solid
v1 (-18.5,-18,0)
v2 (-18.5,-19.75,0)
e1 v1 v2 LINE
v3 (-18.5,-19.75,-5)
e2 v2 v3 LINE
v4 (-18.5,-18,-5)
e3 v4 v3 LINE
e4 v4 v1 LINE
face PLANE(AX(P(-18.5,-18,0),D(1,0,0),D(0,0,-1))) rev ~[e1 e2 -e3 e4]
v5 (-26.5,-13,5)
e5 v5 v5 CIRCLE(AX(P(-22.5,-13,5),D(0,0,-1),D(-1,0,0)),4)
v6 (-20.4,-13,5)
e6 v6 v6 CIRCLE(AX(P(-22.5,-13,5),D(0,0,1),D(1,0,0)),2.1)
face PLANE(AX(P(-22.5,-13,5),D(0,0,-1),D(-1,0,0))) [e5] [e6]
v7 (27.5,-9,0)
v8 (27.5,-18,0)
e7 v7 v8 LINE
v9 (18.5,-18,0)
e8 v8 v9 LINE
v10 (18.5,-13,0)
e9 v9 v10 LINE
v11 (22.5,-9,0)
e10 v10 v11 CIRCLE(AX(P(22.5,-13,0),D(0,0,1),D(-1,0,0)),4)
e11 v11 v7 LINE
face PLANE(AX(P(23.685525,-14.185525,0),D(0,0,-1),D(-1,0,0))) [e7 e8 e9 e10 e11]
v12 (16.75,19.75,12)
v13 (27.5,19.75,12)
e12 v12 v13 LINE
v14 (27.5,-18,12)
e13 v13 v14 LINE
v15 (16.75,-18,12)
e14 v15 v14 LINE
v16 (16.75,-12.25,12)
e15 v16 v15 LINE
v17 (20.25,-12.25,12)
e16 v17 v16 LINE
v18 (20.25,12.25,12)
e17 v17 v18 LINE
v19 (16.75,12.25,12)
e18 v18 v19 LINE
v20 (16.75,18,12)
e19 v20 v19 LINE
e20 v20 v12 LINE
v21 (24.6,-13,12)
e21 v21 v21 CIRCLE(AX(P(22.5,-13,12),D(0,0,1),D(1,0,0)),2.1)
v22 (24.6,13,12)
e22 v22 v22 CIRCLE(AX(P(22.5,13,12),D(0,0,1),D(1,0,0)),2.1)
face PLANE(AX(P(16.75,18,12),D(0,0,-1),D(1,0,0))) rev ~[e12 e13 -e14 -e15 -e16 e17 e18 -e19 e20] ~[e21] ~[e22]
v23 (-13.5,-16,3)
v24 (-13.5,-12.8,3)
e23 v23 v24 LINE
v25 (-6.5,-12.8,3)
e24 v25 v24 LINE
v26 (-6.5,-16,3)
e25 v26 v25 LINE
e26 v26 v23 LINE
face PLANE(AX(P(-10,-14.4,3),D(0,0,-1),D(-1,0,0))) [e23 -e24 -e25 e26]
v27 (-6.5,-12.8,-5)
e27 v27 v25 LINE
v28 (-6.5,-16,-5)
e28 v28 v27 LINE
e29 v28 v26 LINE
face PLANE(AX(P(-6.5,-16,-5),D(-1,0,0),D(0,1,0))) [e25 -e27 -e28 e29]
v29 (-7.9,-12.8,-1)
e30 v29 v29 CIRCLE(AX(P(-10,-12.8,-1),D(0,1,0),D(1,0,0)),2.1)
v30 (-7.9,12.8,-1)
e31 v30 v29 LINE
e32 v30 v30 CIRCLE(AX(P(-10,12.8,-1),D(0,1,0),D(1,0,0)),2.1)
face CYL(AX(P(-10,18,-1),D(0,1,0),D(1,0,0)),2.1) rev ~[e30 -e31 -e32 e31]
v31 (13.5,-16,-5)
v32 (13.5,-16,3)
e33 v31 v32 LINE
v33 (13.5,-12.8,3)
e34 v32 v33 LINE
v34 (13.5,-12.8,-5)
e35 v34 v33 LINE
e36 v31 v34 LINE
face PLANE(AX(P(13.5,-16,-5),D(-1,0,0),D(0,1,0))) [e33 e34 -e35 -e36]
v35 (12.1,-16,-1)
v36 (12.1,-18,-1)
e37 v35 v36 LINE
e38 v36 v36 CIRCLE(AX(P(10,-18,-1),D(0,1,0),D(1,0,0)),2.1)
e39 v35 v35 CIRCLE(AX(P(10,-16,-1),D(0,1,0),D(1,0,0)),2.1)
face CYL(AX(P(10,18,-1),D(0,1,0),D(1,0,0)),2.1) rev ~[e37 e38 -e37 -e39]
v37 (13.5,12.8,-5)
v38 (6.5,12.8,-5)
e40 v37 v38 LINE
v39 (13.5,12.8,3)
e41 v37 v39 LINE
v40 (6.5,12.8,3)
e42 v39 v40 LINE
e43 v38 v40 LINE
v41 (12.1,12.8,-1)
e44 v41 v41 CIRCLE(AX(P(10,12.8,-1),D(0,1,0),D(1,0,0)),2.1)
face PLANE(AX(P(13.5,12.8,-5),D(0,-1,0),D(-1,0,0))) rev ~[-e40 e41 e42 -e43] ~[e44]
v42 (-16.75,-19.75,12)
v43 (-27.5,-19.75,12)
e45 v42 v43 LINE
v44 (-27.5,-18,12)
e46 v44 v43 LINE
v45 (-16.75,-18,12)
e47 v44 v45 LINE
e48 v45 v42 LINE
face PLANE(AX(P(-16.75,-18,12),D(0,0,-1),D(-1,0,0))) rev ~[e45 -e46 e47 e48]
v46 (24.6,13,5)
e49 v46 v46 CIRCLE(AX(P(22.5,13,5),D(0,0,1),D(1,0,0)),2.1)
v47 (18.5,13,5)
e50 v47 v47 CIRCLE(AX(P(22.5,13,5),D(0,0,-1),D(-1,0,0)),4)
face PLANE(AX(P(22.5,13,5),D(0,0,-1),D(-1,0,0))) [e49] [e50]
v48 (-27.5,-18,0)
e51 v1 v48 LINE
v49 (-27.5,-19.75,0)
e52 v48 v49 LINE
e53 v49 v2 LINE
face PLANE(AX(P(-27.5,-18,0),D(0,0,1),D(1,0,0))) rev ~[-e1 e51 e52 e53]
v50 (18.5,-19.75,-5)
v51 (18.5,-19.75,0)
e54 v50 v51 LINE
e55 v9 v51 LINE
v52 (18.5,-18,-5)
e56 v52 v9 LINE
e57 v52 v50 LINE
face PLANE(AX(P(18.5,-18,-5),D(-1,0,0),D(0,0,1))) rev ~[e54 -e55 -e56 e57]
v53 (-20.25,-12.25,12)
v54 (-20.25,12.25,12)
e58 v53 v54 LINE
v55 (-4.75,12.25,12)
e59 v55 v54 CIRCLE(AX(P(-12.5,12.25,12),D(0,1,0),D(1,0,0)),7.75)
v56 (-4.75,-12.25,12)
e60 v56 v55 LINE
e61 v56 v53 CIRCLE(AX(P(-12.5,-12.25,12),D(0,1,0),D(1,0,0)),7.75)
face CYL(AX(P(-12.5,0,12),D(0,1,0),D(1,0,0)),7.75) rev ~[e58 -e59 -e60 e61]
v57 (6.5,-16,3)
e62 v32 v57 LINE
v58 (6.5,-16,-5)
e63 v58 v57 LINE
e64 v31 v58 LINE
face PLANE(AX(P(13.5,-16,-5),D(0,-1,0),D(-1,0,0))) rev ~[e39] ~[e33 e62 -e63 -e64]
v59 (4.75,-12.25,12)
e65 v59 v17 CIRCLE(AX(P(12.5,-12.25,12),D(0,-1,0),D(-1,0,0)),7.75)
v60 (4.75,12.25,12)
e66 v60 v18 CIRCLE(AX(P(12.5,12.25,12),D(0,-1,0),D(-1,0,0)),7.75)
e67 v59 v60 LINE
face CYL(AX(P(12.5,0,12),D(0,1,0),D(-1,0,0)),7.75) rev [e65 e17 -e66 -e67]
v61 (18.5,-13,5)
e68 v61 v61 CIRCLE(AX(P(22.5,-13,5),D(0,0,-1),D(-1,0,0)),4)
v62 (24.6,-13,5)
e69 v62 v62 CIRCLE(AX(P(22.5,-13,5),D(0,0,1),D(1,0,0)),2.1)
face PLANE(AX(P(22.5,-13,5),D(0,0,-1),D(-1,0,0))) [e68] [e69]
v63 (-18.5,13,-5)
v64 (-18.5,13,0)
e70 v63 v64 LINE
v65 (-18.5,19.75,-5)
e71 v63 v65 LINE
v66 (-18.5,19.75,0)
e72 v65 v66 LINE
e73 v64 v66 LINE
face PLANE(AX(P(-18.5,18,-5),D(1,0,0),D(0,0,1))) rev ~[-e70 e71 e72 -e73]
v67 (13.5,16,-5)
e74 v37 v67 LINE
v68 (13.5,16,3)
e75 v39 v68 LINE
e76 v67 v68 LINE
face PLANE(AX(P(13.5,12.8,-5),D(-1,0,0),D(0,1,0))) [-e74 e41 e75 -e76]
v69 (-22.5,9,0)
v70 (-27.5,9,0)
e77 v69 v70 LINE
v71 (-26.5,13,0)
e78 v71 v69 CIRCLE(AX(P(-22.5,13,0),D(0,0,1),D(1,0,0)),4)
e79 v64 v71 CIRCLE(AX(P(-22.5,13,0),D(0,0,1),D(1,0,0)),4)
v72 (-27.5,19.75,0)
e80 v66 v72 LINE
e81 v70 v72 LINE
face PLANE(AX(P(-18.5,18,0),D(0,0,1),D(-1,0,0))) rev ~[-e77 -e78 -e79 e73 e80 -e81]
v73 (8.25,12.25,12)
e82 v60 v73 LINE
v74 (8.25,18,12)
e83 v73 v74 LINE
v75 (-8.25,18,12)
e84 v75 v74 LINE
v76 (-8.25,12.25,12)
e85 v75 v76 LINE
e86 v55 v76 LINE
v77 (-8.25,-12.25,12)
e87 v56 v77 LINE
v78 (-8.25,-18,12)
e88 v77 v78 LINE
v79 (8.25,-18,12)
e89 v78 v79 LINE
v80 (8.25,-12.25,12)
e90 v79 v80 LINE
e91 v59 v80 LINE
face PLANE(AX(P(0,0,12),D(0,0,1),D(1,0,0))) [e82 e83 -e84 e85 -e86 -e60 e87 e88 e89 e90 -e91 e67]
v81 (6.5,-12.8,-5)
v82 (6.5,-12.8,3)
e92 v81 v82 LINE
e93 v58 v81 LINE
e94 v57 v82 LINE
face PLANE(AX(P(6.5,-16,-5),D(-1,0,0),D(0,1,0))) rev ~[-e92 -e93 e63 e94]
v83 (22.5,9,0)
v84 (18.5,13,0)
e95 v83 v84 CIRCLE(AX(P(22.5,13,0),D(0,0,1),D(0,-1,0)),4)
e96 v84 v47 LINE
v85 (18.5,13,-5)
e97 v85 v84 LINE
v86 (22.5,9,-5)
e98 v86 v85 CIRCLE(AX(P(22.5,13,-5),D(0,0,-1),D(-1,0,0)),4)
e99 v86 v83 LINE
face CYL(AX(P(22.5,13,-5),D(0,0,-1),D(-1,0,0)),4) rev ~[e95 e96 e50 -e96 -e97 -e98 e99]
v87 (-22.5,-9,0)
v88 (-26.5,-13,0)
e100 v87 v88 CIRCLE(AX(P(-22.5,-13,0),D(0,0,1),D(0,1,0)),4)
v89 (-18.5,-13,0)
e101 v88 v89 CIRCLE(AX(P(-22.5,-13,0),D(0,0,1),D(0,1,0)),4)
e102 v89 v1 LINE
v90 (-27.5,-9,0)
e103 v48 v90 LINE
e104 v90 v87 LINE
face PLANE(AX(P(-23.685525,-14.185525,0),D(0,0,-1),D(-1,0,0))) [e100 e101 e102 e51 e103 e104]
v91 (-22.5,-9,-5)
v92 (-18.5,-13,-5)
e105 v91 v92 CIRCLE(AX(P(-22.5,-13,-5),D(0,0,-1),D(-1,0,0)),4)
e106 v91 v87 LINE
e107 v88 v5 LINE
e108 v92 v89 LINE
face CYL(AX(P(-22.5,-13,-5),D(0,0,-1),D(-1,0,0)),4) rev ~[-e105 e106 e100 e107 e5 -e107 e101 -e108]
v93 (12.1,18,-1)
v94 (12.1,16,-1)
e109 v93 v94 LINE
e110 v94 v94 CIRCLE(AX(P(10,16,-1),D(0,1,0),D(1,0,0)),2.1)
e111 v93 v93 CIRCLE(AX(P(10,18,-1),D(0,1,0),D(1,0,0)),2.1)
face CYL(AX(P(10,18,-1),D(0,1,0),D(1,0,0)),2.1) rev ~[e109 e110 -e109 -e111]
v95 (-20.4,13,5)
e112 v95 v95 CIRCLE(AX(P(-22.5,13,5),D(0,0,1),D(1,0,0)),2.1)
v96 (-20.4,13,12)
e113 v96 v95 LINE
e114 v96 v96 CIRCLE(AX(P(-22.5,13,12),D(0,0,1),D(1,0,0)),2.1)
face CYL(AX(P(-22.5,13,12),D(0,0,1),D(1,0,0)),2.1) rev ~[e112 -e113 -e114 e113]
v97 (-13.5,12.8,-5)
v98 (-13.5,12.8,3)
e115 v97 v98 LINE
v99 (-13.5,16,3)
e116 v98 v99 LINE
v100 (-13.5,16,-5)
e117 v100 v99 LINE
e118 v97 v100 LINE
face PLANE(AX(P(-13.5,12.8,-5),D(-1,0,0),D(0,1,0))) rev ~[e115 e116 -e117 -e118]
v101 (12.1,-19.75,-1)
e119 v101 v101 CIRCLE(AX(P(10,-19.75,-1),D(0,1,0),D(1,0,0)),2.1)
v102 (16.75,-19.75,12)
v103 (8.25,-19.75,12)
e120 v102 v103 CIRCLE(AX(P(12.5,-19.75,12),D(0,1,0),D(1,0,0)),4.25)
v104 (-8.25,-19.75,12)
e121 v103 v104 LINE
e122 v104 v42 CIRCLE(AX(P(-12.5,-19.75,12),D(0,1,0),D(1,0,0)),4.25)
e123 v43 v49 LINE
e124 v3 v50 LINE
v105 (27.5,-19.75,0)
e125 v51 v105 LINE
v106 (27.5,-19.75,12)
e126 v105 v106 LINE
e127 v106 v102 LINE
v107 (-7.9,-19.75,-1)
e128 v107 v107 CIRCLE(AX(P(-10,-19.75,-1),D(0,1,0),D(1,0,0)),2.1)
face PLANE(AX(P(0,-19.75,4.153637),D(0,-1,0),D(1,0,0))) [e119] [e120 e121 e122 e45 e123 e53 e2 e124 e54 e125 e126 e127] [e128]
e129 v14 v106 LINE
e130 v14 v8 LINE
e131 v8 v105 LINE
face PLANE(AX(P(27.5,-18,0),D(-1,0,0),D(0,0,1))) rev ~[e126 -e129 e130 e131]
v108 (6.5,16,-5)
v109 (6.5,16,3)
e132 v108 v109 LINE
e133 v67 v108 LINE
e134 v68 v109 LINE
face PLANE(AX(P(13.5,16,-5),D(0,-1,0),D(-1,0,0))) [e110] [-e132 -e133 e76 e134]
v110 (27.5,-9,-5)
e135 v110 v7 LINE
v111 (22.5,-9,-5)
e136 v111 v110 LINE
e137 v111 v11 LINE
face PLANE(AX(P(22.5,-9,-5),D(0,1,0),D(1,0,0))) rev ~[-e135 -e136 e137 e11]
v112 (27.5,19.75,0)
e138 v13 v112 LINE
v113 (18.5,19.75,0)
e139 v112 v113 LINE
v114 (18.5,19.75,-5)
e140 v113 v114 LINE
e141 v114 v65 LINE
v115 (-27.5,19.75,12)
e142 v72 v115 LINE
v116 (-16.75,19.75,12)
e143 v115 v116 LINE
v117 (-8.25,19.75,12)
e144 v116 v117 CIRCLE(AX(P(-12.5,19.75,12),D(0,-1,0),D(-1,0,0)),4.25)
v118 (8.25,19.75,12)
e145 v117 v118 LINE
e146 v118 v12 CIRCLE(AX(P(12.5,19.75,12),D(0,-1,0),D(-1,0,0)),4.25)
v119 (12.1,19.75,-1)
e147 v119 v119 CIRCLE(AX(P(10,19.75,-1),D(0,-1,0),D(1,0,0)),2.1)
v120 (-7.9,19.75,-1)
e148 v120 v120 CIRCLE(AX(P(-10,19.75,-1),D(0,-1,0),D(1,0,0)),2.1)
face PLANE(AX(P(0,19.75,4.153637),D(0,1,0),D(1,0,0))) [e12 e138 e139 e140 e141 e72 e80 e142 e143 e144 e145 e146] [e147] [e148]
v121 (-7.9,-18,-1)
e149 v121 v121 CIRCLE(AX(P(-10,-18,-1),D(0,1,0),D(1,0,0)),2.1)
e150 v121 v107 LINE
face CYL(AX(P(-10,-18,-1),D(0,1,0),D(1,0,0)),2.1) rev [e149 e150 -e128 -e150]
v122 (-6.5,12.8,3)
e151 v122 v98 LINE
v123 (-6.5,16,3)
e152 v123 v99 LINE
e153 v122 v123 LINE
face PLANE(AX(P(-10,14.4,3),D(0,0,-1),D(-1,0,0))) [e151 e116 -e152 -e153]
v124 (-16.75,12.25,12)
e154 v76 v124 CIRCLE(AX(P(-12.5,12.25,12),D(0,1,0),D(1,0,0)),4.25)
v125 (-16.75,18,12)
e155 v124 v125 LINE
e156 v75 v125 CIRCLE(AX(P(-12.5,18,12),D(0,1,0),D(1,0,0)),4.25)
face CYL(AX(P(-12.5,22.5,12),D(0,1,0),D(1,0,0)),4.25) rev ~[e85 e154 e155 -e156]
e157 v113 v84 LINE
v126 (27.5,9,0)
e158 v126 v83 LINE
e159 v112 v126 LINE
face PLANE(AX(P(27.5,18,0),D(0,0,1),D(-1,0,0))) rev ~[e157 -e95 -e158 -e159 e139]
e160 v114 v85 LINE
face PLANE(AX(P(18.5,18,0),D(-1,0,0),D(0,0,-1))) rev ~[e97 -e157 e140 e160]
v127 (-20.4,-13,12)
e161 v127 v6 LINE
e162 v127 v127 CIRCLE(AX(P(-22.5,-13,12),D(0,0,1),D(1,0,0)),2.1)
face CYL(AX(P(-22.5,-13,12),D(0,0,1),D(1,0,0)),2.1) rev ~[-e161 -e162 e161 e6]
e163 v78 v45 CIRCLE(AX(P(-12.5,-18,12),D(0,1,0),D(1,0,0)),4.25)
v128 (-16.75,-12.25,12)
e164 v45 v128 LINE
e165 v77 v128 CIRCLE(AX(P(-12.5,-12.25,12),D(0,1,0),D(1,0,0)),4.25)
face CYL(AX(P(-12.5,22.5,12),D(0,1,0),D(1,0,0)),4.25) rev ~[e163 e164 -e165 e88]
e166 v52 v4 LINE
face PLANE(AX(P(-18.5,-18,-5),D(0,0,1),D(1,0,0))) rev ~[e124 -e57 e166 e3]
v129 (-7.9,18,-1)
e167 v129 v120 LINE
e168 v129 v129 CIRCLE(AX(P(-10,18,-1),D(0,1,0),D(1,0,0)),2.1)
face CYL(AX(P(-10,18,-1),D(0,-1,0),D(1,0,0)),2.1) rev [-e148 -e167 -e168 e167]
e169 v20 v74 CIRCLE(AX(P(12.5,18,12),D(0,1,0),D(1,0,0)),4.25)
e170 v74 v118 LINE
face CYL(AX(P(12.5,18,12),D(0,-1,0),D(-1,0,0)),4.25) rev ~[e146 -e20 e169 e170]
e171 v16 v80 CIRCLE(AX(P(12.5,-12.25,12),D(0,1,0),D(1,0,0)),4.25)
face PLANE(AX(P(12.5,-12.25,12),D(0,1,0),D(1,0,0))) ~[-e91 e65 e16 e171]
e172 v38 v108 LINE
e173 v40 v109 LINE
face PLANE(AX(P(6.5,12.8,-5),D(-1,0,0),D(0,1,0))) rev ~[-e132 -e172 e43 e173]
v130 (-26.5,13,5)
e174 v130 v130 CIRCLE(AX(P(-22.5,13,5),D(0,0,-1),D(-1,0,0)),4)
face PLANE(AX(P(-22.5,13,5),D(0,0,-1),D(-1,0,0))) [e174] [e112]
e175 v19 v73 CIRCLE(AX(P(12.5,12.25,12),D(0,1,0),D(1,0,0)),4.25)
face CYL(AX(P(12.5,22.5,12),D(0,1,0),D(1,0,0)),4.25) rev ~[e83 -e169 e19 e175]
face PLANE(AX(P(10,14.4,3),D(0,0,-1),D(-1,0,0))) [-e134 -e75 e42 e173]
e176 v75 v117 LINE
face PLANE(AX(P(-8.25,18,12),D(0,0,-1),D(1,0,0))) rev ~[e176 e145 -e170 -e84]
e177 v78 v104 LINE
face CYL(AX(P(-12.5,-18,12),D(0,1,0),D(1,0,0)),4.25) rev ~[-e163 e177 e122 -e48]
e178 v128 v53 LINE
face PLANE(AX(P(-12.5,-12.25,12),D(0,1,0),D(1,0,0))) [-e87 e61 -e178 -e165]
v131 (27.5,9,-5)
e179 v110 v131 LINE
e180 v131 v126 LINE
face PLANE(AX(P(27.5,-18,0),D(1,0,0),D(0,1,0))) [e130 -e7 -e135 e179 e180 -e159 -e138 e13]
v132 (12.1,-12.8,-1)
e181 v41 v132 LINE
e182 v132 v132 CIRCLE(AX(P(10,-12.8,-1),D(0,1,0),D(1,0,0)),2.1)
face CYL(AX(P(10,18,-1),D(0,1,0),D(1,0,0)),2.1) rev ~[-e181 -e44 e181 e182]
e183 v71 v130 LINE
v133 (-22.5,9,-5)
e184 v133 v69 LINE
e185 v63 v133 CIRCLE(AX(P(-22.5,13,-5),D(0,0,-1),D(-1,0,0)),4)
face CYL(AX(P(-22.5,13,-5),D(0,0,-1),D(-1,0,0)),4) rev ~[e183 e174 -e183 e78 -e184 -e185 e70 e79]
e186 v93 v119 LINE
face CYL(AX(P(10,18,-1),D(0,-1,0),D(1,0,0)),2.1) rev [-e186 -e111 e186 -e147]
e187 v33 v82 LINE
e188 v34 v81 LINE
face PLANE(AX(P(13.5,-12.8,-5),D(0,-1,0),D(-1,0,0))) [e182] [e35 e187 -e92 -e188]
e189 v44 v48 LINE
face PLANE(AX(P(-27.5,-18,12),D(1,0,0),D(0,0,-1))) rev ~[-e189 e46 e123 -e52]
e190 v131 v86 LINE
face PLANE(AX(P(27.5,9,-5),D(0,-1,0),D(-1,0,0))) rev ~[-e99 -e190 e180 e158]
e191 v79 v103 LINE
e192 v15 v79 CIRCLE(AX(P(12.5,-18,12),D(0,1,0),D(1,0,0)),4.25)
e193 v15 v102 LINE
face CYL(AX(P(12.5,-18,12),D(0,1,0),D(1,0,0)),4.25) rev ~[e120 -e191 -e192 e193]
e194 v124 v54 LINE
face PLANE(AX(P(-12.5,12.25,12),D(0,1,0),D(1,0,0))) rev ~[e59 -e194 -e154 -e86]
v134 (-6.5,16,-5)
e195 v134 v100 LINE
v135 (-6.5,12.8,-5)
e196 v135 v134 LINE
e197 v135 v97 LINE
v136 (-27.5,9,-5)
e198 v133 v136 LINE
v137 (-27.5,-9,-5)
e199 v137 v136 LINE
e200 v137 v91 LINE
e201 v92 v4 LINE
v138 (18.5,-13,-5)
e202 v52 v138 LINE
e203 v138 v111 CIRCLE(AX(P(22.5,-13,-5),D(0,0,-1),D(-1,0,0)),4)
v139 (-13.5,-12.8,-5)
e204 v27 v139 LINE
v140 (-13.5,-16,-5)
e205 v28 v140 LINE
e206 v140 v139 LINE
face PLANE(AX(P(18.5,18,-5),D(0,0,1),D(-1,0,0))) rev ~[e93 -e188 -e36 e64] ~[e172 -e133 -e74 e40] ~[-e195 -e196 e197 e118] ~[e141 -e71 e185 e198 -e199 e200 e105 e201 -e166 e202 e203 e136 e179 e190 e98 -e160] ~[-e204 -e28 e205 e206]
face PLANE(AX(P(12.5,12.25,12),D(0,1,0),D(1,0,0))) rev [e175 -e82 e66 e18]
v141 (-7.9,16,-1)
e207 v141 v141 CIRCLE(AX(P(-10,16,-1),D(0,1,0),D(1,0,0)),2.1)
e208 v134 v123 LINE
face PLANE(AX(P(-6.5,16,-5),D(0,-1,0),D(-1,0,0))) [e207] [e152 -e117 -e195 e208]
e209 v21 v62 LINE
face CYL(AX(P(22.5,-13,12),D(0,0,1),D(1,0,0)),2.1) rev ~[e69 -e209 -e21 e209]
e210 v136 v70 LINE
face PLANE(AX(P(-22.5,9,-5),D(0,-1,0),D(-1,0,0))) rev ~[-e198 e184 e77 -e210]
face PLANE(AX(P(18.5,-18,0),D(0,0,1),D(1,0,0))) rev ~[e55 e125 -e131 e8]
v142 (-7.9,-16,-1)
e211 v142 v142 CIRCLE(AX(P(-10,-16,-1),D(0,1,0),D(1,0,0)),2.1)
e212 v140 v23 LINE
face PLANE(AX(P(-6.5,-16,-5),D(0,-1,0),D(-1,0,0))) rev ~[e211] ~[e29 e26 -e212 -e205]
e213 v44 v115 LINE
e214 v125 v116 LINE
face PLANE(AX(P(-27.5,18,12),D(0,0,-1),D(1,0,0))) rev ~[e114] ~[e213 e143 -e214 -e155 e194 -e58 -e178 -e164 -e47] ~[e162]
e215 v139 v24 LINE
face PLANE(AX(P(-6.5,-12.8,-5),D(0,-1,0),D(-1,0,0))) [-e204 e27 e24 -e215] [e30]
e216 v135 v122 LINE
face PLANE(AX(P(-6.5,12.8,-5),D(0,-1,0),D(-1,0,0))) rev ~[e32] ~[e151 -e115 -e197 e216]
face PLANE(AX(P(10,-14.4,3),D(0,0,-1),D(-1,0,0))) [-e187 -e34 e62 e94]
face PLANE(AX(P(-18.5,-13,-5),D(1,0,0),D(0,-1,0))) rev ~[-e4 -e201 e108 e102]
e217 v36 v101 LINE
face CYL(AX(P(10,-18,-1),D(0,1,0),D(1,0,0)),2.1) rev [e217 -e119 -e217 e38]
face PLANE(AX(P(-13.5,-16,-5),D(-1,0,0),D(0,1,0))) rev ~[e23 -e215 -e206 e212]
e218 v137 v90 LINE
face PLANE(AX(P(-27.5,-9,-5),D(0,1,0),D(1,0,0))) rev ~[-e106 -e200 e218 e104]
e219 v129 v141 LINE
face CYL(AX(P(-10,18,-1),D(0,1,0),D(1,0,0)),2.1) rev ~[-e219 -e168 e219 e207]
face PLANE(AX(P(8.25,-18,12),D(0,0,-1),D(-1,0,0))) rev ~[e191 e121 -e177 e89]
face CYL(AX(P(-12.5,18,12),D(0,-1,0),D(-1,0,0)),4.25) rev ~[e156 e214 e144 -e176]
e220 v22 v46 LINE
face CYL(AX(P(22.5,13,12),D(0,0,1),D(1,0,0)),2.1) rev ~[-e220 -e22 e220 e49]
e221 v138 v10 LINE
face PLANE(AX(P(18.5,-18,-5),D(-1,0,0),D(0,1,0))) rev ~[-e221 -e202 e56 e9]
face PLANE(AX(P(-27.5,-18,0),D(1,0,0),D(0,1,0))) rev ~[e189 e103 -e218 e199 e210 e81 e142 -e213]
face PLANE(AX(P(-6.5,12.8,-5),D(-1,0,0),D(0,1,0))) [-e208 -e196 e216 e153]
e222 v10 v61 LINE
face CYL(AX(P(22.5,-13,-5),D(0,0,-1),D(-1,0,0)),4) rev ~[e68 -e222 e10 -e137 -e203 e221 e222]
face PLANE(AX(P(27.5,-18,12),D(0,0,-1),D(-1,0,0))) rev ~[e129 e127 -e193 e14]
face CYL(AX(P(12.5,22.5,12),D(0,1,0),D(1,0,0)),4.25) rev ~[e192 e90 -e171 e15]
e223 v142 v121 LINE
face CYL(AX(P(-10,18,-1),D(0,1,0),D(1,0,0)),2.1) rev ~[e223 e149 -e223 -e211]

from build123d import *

# Parameters (mm, degrees)
ESQUISSE1_W             = 55
ESQUISSE1_H             = 45
BOSS_EXTRU_1_DEPTH      = 12
ESQUISSE2_R             = 4.25
ENL_V_MAT_EXTRU_1_DEPTH = 46
ESQUISSE3_R             = 7.75
ENL_V_MAT_EXTRU_2_DEPTH = 12.25
ESQUISSE9_W             = 61.062756781
ESQUISSE9_H             = 12.22812859
ESQUISSE9_W_2           = 59.427147224
ESQUISSE9_H_2           = 8.100161614
ENL_V_MAT_EXTRU_7_DEPTH = 31
SKETCH1_W               = 55
SKETCH1_H               = 36
BOSS_EXTRUDE1_DEPTH     = 5
SKETCH2_R               = 2.1
CUT_EXTRUDE1_DEPTH      = 18
SKETCH3_R               = 4
CUT_EXTRUDE2_DEPTH      = 10
CUT_EXTRUDE3_DEPTH      = 5
SKETCH5_R               = 2.1
CUT_EXTRUDE4_DEPTH      = 37
SKETCH7_R               = 2.1
BOSS_EXTRUDE4_DEPTH     = 2
SKETCH8_R               = 2.1
BOSS_EXTRUDE5_DEPTH     = 2
SKETCH9_W               = 7
SKETCH9_H               = 3.2
CUT_EXTRUDE6_DEPTH      = 8
CUT_EXTRUDE7_DEPTH      = 0.25
CUT_EXTRUDE8_DEPTH      = 0.25


with BuildPart() as part:
    # Esquisse1 → Boss.-Extru.1 (new body)
    with BuildSketch(Plane.XY):
        Rectangle(ESQUISSE1_W, ESQUISSE1_H)
    extrude(amount=BOSS_EXTRU_1_DEPTH)

    # Esquisse2 → Enlèv. mat.-Extru.1 (cut, through all)
    with BuildSketch(Plane(origin=(0, 22.5, 0), x_dir=(1, 0, 0), z_dir=(0, 1, 0))):
        with Locations((-12.5, -12)):
            Circle(ESQUISSE2_R)
        with Locations((12.5, -12)):
            Circle(ESQUISSE2_R)
    extrude(amount=-ENL_V_MAT_EXTRU_1_DEPTH, mode=Mode.SUBTRACT)

    # Esquisse3 → Enlèv. mat.-Extru.2 (cut, symmetric)
    with BuildSketch(Plane(origin=(0, 0, 0), x_dir=(1, 0, 0), z_dir=(0, 1, 0))):
        with Locations((-12.5, -12)):
            Circle(ESQUISSE3_R)
    enl_v_mat_extru_2 = extrude(amount=ENL_V_MAT_EXTRU_2_DEPTH, both=True, mode=Mode.SUBTRACT)

    # Esquisse9 → Enlèv. mat.-Extru.7 (cut)
    with BuildSketch(Plane.XY.offset(12)):
        with Locations((-0.389430846, -24.114064295)):
            Rectangle(ESQUISSE9_W, ESQUISSE9_H)
        with Locations((1.674552641, 22.050080807)):
            Rectangle(ESQUISSE9_W_2, ESQUISSE9_H_2)
    extrude(amount=-ENL_V_MAT_EXTRU_7_DEPTH, mode=Mode.SUBTRACT)

    # Sketch1 → Boss-Extrude1 (add)
    with BuildSketch(Plane(origin=(0, 0, 0), x_dir=(-1, 0, 0), z_dir=(0, 0, -1))):
        Rectangle(SKETCH1_W, SKETCH1_H)
    extrude(amount=BOSS_EXTRUDE1_DEPTH)

    # Sketch2 → Cut-Extrude1 (cut, through all)
    with BuildSketch(Plane.XY.offset(12)):
        with Locations((-22.5, 13)):
            Circle(SKETCH2_R)
        with Locations((22.5, 13)):
            Circle(SKETCH2_R)
        with Locations((22.5, -13)):
            Circle(SKETCH2_R)
        with Locations((-22.5, -13)):
            Circle(SKETCH2_R)
    extrude(amount=-CUT_EXTRUDE1_DEPTH, mode=Mode.SUBTRACT)

    # Sketch3 → Cut-Extrude2 (cut)
    with BuildSketch(Plane(origin=(0, 0, -5), x_dir=(-1, 0, 0), z_dir=(0, 0, -1))):
        with Locations((-22.5, 13)):
            Circle(SKETCH3_R)
        with Locations((22.5, 13)):
            Circle(SKETCH3_R)
        with Locations((22.5, -13)):
            Circle(SKETCH3_R)
        with Locations((-22.5, -13)):
            Circle(SKETCH3_R)
    extrude(amount=-CUT_EXTRUDE2_DEPTH, mode=Mode.SUBTRACT)

    # Sketch4 → Cut-Extrude3 (cut)
    with BuildSketch(Plane(origin=(0, 0, -5), x_dir=(-1, 0, 0), z_dir=(0, 0, -1))):
        with BuildLine():
            Line((-18.5, 13), (-18.5, 18))
            Line((-18.5, 18), (-27.5, 18))
            Line((-27.5, 18), (-27.5, 9))
            Line((-27.5, 9), (-22.5, 9))
            ThreePointArc((-22.5, 9), (-25.328427125, 15.828427125), (-18.5, 13))
        make_face()
        with BuildLine():
            Line((-22.5, -9), (-27.5, -9))
            Line((-27.5, -9), (-27.5, -18))
            Line((-27.5, -18), (-18.5, -18))
            Line((-18.5, -18), (-18.5, -13))
            ThreePointArc((-18.5, -13), (-25.328427125, -15.828427125), (-22.5, -9))
        make_face()
        with BuildLine():
            Line((27.5, -18), (27.5, -9))
            Line((27.5, -9), (22.5, -9))
            ThreePointArc((22.5, -9), (25.328427125, -15.828427125), (18.5, -13))
            Line((18.5, -13), (18.5, -18))
            Line((18.5, -18), (27.5, -18))
        make_face()
        with BuildLine():
            Line((27.5, 18), (18.5, 18))
            Line((18.5, 18), (18.5, 13))
            ThreePointArc((18.5, 13), (25.328427125, 15.828427125), (22.5, 9))
            Line((22.5, 9), (27.5, 9))
            Line((27.5, 9), (27.5, 18))
        make_face()
    extrude(amount=-CUT_EXTRUDE3_DEPTH, mode=Mode.SUBTRACT)

    # Sketch5 → Cut-Extrude4 (cut, through all)
    with BuildSketch(Plane(origin=(0, 18, 0), x_dir=(1, 0, 0), z_dir=(0, 1, 0))):
        with Locations((-10, 1)):
            Circle(SKETCH5_R)
        with Locations((10, 1)):
            Circle(SKETCH5_R)
    extrude(amount=-CUT_EXTRUDE4_DEPTH, mode=Mode.SUBTRACT)

    # Sketch7 → Boss-Extrude4 (add)
    with BuildSketch(Plane(origin=(0, 18, 0), x_dir=(1, 0, 0), z_dir=(0, 1, 0))):
        with BuildLine():
            Line((18.5, 5), (-18.5, 5))
            Line((-18.5, 5), (-18.5, 0))
            Line((-18.5, 0), (-27.5, 0))
            Line((-27.5, 0), (-27.5, -12))
            Line((-27.5, -12), (-16.75, -12))
            ThreePointArc((-16.75, -12), (-12.5, -7.75), (-8.25, -12))
            Line((-8.25, -12), (8.25, -12))
            ThreePointArc((8.25, -12), (12.5, -7.75), (16.75, -12))
            Line((16.75, -12), (27.5, -12))
            Line((27.5, -12), (27.5, 0))
            Line((27.5, 0), (18.5, 0))
            Line((18.5, 0), (18.5, 5))
        make_face()
        with Locations((10, 1)):
            Circle(SKETCH7_R, mode=Mode.SUBTRACT)
        with Locations((-10, 1)):
            Circle(SKETCH7_R, mode=Mode.SUBTRACT)
    extrude(amount=BOSS_EXTRUDE4_DEPTH)

    # Sketch8 → Boss-Extrude5 (add)
    with BuildSketch(Plane.XZ.offset(18)):
        with BuildLine():
            Line((-27.5, 0), (-18.5, 0))
            Line((-18.5, 0), (-18.5, -5))
            Line((-18.5, -5), (18.5, -5))
            Line((18.5, -5), (18.5, 0))
            Line((18.5, 0), (27.5, 0))
            Line((27.5, 0), (27.5, 12))
            Line((27.5, 12), (16.75, 12))
            ThreePointArc((16.75, 12), (12.5, 7.75), (8.25, 12))
            Line((8.25, 12), (-8.25, 12))
            ThreePointArc((-8.25, 12), (-12.5, 7.75), (-16.75, 12))
            Line((-16.75, 12), (-27.5, 12))
            Line((-27.5, 12), (-27.5, 0))
        make_face()
        with Locations((10, -1)):
            Circle(SKETCH8_R, mode=Mode.SUBTRACT)
        with Locations((-10, -1)):
            Circle(SKETCH8_R, mode=Mode.SUBTRACT)
    extrude(amount=BOSS_EXTRUDE5_DEPTH)

    # Sketch9 → Cut-Extrude6 (cut)
    with BuildSketch(Plane(origin=(0, 0, -5), x_dir=(-1, 0, 0), z_dir=(0, 0, -1))):
        with Locations((-10, 14.4)):
            Rectangle(SKETCH9_W, SKETCH9_H)
        with Locations((10, 14.4)):
            Rectangle(SKETCH9_W, SKETCH9_H)
        with Locations((10, -14.4)):
            Rectangle(SKETCH9_W, SKETCH9_H)
        with Locations((-10, -14.4)):
            Rectangle(SKETCH9_W, SKETCH9_H)
    extrude(amount=-CUT_EXTRUDE6_DEPTH, mode=Mode.SUBTRACT)

    # Mirror1: Enlèv. mat.-Extru.2 across plane
    add(enl_v_mat_extru_2.mirror(Plane.ZY), mode=Mode.SUBTRACT)

    # Sketch10 → Cut-Extrude7 (cut)
    with BuildSketch(Plane.XZ.offset(20)):
        with BuildLine():
            Line((-27.5, 12), (-27.5, 0))
            Line((-27.5, 0), (-18.5, 0))
            Line((-18.5, 0), (-18.5, -5))
            Line((-18.5, -5), (18.5, -5))
            Line((18.5, -5), (18.5, 0))
            Line((18.5, 0), (27.5, 0))
            Line((27.5, 0), (27.5, 12))
            Line((27.5, 12), (16.75, 12))
            ThreePointArc((16.75, 12), (12.5, 7.75), (8.25, 12))
            Line((8.25, 12), (-8.25, 12))
            ThreePointArc((-8.25, 12), (-12.5, 7.75), (-16.75, 12))
            Line((-16.75, 12), (-27.5, 12))
        make_face()
    extrude(amount=-CUT_EXTRUDE7_DEPTH, mode=Mode.SUBTRACT)

    # Sketch11 → Cut-Extrude8 (cut)
    with BuildSketch(Plane(origin=(0, 20, 0), x_dir=(1, 0, 0), z_dir=(0, 1, 0))):
        with BuildLine():
            Line((18.5, 0), (18.5, 5))
            Line((18.5, 5), (-18.5, 5))
            Line((-18.5, 5), (-18.5, 0))
            Line((-18.5, 0), (-27.5, 0))
            Line((-27.5, 0), (-27.5, -12))
            Line((-27.5, -12), (-16.75, -12))
            ThreePointArc((-16.75, -12), (-12.5, -7.75), (-8.25, -12))
            Line((-8.25, -12), (8.25, -12))
            ThreePointArc((8.25, -12), (12.5, -7.75), (16.75, -12))
            Line((16.75, -12), (27.5, -12))
            Line((27.5, -12), (27.5, 0))
            Line((27.5, 0), (18.5, 0))
        make_face()
    extrude(amount=-CUT_EXTRUDE8_DEPTH, mode=Mode.SUBTRACT)


solid = part.part
